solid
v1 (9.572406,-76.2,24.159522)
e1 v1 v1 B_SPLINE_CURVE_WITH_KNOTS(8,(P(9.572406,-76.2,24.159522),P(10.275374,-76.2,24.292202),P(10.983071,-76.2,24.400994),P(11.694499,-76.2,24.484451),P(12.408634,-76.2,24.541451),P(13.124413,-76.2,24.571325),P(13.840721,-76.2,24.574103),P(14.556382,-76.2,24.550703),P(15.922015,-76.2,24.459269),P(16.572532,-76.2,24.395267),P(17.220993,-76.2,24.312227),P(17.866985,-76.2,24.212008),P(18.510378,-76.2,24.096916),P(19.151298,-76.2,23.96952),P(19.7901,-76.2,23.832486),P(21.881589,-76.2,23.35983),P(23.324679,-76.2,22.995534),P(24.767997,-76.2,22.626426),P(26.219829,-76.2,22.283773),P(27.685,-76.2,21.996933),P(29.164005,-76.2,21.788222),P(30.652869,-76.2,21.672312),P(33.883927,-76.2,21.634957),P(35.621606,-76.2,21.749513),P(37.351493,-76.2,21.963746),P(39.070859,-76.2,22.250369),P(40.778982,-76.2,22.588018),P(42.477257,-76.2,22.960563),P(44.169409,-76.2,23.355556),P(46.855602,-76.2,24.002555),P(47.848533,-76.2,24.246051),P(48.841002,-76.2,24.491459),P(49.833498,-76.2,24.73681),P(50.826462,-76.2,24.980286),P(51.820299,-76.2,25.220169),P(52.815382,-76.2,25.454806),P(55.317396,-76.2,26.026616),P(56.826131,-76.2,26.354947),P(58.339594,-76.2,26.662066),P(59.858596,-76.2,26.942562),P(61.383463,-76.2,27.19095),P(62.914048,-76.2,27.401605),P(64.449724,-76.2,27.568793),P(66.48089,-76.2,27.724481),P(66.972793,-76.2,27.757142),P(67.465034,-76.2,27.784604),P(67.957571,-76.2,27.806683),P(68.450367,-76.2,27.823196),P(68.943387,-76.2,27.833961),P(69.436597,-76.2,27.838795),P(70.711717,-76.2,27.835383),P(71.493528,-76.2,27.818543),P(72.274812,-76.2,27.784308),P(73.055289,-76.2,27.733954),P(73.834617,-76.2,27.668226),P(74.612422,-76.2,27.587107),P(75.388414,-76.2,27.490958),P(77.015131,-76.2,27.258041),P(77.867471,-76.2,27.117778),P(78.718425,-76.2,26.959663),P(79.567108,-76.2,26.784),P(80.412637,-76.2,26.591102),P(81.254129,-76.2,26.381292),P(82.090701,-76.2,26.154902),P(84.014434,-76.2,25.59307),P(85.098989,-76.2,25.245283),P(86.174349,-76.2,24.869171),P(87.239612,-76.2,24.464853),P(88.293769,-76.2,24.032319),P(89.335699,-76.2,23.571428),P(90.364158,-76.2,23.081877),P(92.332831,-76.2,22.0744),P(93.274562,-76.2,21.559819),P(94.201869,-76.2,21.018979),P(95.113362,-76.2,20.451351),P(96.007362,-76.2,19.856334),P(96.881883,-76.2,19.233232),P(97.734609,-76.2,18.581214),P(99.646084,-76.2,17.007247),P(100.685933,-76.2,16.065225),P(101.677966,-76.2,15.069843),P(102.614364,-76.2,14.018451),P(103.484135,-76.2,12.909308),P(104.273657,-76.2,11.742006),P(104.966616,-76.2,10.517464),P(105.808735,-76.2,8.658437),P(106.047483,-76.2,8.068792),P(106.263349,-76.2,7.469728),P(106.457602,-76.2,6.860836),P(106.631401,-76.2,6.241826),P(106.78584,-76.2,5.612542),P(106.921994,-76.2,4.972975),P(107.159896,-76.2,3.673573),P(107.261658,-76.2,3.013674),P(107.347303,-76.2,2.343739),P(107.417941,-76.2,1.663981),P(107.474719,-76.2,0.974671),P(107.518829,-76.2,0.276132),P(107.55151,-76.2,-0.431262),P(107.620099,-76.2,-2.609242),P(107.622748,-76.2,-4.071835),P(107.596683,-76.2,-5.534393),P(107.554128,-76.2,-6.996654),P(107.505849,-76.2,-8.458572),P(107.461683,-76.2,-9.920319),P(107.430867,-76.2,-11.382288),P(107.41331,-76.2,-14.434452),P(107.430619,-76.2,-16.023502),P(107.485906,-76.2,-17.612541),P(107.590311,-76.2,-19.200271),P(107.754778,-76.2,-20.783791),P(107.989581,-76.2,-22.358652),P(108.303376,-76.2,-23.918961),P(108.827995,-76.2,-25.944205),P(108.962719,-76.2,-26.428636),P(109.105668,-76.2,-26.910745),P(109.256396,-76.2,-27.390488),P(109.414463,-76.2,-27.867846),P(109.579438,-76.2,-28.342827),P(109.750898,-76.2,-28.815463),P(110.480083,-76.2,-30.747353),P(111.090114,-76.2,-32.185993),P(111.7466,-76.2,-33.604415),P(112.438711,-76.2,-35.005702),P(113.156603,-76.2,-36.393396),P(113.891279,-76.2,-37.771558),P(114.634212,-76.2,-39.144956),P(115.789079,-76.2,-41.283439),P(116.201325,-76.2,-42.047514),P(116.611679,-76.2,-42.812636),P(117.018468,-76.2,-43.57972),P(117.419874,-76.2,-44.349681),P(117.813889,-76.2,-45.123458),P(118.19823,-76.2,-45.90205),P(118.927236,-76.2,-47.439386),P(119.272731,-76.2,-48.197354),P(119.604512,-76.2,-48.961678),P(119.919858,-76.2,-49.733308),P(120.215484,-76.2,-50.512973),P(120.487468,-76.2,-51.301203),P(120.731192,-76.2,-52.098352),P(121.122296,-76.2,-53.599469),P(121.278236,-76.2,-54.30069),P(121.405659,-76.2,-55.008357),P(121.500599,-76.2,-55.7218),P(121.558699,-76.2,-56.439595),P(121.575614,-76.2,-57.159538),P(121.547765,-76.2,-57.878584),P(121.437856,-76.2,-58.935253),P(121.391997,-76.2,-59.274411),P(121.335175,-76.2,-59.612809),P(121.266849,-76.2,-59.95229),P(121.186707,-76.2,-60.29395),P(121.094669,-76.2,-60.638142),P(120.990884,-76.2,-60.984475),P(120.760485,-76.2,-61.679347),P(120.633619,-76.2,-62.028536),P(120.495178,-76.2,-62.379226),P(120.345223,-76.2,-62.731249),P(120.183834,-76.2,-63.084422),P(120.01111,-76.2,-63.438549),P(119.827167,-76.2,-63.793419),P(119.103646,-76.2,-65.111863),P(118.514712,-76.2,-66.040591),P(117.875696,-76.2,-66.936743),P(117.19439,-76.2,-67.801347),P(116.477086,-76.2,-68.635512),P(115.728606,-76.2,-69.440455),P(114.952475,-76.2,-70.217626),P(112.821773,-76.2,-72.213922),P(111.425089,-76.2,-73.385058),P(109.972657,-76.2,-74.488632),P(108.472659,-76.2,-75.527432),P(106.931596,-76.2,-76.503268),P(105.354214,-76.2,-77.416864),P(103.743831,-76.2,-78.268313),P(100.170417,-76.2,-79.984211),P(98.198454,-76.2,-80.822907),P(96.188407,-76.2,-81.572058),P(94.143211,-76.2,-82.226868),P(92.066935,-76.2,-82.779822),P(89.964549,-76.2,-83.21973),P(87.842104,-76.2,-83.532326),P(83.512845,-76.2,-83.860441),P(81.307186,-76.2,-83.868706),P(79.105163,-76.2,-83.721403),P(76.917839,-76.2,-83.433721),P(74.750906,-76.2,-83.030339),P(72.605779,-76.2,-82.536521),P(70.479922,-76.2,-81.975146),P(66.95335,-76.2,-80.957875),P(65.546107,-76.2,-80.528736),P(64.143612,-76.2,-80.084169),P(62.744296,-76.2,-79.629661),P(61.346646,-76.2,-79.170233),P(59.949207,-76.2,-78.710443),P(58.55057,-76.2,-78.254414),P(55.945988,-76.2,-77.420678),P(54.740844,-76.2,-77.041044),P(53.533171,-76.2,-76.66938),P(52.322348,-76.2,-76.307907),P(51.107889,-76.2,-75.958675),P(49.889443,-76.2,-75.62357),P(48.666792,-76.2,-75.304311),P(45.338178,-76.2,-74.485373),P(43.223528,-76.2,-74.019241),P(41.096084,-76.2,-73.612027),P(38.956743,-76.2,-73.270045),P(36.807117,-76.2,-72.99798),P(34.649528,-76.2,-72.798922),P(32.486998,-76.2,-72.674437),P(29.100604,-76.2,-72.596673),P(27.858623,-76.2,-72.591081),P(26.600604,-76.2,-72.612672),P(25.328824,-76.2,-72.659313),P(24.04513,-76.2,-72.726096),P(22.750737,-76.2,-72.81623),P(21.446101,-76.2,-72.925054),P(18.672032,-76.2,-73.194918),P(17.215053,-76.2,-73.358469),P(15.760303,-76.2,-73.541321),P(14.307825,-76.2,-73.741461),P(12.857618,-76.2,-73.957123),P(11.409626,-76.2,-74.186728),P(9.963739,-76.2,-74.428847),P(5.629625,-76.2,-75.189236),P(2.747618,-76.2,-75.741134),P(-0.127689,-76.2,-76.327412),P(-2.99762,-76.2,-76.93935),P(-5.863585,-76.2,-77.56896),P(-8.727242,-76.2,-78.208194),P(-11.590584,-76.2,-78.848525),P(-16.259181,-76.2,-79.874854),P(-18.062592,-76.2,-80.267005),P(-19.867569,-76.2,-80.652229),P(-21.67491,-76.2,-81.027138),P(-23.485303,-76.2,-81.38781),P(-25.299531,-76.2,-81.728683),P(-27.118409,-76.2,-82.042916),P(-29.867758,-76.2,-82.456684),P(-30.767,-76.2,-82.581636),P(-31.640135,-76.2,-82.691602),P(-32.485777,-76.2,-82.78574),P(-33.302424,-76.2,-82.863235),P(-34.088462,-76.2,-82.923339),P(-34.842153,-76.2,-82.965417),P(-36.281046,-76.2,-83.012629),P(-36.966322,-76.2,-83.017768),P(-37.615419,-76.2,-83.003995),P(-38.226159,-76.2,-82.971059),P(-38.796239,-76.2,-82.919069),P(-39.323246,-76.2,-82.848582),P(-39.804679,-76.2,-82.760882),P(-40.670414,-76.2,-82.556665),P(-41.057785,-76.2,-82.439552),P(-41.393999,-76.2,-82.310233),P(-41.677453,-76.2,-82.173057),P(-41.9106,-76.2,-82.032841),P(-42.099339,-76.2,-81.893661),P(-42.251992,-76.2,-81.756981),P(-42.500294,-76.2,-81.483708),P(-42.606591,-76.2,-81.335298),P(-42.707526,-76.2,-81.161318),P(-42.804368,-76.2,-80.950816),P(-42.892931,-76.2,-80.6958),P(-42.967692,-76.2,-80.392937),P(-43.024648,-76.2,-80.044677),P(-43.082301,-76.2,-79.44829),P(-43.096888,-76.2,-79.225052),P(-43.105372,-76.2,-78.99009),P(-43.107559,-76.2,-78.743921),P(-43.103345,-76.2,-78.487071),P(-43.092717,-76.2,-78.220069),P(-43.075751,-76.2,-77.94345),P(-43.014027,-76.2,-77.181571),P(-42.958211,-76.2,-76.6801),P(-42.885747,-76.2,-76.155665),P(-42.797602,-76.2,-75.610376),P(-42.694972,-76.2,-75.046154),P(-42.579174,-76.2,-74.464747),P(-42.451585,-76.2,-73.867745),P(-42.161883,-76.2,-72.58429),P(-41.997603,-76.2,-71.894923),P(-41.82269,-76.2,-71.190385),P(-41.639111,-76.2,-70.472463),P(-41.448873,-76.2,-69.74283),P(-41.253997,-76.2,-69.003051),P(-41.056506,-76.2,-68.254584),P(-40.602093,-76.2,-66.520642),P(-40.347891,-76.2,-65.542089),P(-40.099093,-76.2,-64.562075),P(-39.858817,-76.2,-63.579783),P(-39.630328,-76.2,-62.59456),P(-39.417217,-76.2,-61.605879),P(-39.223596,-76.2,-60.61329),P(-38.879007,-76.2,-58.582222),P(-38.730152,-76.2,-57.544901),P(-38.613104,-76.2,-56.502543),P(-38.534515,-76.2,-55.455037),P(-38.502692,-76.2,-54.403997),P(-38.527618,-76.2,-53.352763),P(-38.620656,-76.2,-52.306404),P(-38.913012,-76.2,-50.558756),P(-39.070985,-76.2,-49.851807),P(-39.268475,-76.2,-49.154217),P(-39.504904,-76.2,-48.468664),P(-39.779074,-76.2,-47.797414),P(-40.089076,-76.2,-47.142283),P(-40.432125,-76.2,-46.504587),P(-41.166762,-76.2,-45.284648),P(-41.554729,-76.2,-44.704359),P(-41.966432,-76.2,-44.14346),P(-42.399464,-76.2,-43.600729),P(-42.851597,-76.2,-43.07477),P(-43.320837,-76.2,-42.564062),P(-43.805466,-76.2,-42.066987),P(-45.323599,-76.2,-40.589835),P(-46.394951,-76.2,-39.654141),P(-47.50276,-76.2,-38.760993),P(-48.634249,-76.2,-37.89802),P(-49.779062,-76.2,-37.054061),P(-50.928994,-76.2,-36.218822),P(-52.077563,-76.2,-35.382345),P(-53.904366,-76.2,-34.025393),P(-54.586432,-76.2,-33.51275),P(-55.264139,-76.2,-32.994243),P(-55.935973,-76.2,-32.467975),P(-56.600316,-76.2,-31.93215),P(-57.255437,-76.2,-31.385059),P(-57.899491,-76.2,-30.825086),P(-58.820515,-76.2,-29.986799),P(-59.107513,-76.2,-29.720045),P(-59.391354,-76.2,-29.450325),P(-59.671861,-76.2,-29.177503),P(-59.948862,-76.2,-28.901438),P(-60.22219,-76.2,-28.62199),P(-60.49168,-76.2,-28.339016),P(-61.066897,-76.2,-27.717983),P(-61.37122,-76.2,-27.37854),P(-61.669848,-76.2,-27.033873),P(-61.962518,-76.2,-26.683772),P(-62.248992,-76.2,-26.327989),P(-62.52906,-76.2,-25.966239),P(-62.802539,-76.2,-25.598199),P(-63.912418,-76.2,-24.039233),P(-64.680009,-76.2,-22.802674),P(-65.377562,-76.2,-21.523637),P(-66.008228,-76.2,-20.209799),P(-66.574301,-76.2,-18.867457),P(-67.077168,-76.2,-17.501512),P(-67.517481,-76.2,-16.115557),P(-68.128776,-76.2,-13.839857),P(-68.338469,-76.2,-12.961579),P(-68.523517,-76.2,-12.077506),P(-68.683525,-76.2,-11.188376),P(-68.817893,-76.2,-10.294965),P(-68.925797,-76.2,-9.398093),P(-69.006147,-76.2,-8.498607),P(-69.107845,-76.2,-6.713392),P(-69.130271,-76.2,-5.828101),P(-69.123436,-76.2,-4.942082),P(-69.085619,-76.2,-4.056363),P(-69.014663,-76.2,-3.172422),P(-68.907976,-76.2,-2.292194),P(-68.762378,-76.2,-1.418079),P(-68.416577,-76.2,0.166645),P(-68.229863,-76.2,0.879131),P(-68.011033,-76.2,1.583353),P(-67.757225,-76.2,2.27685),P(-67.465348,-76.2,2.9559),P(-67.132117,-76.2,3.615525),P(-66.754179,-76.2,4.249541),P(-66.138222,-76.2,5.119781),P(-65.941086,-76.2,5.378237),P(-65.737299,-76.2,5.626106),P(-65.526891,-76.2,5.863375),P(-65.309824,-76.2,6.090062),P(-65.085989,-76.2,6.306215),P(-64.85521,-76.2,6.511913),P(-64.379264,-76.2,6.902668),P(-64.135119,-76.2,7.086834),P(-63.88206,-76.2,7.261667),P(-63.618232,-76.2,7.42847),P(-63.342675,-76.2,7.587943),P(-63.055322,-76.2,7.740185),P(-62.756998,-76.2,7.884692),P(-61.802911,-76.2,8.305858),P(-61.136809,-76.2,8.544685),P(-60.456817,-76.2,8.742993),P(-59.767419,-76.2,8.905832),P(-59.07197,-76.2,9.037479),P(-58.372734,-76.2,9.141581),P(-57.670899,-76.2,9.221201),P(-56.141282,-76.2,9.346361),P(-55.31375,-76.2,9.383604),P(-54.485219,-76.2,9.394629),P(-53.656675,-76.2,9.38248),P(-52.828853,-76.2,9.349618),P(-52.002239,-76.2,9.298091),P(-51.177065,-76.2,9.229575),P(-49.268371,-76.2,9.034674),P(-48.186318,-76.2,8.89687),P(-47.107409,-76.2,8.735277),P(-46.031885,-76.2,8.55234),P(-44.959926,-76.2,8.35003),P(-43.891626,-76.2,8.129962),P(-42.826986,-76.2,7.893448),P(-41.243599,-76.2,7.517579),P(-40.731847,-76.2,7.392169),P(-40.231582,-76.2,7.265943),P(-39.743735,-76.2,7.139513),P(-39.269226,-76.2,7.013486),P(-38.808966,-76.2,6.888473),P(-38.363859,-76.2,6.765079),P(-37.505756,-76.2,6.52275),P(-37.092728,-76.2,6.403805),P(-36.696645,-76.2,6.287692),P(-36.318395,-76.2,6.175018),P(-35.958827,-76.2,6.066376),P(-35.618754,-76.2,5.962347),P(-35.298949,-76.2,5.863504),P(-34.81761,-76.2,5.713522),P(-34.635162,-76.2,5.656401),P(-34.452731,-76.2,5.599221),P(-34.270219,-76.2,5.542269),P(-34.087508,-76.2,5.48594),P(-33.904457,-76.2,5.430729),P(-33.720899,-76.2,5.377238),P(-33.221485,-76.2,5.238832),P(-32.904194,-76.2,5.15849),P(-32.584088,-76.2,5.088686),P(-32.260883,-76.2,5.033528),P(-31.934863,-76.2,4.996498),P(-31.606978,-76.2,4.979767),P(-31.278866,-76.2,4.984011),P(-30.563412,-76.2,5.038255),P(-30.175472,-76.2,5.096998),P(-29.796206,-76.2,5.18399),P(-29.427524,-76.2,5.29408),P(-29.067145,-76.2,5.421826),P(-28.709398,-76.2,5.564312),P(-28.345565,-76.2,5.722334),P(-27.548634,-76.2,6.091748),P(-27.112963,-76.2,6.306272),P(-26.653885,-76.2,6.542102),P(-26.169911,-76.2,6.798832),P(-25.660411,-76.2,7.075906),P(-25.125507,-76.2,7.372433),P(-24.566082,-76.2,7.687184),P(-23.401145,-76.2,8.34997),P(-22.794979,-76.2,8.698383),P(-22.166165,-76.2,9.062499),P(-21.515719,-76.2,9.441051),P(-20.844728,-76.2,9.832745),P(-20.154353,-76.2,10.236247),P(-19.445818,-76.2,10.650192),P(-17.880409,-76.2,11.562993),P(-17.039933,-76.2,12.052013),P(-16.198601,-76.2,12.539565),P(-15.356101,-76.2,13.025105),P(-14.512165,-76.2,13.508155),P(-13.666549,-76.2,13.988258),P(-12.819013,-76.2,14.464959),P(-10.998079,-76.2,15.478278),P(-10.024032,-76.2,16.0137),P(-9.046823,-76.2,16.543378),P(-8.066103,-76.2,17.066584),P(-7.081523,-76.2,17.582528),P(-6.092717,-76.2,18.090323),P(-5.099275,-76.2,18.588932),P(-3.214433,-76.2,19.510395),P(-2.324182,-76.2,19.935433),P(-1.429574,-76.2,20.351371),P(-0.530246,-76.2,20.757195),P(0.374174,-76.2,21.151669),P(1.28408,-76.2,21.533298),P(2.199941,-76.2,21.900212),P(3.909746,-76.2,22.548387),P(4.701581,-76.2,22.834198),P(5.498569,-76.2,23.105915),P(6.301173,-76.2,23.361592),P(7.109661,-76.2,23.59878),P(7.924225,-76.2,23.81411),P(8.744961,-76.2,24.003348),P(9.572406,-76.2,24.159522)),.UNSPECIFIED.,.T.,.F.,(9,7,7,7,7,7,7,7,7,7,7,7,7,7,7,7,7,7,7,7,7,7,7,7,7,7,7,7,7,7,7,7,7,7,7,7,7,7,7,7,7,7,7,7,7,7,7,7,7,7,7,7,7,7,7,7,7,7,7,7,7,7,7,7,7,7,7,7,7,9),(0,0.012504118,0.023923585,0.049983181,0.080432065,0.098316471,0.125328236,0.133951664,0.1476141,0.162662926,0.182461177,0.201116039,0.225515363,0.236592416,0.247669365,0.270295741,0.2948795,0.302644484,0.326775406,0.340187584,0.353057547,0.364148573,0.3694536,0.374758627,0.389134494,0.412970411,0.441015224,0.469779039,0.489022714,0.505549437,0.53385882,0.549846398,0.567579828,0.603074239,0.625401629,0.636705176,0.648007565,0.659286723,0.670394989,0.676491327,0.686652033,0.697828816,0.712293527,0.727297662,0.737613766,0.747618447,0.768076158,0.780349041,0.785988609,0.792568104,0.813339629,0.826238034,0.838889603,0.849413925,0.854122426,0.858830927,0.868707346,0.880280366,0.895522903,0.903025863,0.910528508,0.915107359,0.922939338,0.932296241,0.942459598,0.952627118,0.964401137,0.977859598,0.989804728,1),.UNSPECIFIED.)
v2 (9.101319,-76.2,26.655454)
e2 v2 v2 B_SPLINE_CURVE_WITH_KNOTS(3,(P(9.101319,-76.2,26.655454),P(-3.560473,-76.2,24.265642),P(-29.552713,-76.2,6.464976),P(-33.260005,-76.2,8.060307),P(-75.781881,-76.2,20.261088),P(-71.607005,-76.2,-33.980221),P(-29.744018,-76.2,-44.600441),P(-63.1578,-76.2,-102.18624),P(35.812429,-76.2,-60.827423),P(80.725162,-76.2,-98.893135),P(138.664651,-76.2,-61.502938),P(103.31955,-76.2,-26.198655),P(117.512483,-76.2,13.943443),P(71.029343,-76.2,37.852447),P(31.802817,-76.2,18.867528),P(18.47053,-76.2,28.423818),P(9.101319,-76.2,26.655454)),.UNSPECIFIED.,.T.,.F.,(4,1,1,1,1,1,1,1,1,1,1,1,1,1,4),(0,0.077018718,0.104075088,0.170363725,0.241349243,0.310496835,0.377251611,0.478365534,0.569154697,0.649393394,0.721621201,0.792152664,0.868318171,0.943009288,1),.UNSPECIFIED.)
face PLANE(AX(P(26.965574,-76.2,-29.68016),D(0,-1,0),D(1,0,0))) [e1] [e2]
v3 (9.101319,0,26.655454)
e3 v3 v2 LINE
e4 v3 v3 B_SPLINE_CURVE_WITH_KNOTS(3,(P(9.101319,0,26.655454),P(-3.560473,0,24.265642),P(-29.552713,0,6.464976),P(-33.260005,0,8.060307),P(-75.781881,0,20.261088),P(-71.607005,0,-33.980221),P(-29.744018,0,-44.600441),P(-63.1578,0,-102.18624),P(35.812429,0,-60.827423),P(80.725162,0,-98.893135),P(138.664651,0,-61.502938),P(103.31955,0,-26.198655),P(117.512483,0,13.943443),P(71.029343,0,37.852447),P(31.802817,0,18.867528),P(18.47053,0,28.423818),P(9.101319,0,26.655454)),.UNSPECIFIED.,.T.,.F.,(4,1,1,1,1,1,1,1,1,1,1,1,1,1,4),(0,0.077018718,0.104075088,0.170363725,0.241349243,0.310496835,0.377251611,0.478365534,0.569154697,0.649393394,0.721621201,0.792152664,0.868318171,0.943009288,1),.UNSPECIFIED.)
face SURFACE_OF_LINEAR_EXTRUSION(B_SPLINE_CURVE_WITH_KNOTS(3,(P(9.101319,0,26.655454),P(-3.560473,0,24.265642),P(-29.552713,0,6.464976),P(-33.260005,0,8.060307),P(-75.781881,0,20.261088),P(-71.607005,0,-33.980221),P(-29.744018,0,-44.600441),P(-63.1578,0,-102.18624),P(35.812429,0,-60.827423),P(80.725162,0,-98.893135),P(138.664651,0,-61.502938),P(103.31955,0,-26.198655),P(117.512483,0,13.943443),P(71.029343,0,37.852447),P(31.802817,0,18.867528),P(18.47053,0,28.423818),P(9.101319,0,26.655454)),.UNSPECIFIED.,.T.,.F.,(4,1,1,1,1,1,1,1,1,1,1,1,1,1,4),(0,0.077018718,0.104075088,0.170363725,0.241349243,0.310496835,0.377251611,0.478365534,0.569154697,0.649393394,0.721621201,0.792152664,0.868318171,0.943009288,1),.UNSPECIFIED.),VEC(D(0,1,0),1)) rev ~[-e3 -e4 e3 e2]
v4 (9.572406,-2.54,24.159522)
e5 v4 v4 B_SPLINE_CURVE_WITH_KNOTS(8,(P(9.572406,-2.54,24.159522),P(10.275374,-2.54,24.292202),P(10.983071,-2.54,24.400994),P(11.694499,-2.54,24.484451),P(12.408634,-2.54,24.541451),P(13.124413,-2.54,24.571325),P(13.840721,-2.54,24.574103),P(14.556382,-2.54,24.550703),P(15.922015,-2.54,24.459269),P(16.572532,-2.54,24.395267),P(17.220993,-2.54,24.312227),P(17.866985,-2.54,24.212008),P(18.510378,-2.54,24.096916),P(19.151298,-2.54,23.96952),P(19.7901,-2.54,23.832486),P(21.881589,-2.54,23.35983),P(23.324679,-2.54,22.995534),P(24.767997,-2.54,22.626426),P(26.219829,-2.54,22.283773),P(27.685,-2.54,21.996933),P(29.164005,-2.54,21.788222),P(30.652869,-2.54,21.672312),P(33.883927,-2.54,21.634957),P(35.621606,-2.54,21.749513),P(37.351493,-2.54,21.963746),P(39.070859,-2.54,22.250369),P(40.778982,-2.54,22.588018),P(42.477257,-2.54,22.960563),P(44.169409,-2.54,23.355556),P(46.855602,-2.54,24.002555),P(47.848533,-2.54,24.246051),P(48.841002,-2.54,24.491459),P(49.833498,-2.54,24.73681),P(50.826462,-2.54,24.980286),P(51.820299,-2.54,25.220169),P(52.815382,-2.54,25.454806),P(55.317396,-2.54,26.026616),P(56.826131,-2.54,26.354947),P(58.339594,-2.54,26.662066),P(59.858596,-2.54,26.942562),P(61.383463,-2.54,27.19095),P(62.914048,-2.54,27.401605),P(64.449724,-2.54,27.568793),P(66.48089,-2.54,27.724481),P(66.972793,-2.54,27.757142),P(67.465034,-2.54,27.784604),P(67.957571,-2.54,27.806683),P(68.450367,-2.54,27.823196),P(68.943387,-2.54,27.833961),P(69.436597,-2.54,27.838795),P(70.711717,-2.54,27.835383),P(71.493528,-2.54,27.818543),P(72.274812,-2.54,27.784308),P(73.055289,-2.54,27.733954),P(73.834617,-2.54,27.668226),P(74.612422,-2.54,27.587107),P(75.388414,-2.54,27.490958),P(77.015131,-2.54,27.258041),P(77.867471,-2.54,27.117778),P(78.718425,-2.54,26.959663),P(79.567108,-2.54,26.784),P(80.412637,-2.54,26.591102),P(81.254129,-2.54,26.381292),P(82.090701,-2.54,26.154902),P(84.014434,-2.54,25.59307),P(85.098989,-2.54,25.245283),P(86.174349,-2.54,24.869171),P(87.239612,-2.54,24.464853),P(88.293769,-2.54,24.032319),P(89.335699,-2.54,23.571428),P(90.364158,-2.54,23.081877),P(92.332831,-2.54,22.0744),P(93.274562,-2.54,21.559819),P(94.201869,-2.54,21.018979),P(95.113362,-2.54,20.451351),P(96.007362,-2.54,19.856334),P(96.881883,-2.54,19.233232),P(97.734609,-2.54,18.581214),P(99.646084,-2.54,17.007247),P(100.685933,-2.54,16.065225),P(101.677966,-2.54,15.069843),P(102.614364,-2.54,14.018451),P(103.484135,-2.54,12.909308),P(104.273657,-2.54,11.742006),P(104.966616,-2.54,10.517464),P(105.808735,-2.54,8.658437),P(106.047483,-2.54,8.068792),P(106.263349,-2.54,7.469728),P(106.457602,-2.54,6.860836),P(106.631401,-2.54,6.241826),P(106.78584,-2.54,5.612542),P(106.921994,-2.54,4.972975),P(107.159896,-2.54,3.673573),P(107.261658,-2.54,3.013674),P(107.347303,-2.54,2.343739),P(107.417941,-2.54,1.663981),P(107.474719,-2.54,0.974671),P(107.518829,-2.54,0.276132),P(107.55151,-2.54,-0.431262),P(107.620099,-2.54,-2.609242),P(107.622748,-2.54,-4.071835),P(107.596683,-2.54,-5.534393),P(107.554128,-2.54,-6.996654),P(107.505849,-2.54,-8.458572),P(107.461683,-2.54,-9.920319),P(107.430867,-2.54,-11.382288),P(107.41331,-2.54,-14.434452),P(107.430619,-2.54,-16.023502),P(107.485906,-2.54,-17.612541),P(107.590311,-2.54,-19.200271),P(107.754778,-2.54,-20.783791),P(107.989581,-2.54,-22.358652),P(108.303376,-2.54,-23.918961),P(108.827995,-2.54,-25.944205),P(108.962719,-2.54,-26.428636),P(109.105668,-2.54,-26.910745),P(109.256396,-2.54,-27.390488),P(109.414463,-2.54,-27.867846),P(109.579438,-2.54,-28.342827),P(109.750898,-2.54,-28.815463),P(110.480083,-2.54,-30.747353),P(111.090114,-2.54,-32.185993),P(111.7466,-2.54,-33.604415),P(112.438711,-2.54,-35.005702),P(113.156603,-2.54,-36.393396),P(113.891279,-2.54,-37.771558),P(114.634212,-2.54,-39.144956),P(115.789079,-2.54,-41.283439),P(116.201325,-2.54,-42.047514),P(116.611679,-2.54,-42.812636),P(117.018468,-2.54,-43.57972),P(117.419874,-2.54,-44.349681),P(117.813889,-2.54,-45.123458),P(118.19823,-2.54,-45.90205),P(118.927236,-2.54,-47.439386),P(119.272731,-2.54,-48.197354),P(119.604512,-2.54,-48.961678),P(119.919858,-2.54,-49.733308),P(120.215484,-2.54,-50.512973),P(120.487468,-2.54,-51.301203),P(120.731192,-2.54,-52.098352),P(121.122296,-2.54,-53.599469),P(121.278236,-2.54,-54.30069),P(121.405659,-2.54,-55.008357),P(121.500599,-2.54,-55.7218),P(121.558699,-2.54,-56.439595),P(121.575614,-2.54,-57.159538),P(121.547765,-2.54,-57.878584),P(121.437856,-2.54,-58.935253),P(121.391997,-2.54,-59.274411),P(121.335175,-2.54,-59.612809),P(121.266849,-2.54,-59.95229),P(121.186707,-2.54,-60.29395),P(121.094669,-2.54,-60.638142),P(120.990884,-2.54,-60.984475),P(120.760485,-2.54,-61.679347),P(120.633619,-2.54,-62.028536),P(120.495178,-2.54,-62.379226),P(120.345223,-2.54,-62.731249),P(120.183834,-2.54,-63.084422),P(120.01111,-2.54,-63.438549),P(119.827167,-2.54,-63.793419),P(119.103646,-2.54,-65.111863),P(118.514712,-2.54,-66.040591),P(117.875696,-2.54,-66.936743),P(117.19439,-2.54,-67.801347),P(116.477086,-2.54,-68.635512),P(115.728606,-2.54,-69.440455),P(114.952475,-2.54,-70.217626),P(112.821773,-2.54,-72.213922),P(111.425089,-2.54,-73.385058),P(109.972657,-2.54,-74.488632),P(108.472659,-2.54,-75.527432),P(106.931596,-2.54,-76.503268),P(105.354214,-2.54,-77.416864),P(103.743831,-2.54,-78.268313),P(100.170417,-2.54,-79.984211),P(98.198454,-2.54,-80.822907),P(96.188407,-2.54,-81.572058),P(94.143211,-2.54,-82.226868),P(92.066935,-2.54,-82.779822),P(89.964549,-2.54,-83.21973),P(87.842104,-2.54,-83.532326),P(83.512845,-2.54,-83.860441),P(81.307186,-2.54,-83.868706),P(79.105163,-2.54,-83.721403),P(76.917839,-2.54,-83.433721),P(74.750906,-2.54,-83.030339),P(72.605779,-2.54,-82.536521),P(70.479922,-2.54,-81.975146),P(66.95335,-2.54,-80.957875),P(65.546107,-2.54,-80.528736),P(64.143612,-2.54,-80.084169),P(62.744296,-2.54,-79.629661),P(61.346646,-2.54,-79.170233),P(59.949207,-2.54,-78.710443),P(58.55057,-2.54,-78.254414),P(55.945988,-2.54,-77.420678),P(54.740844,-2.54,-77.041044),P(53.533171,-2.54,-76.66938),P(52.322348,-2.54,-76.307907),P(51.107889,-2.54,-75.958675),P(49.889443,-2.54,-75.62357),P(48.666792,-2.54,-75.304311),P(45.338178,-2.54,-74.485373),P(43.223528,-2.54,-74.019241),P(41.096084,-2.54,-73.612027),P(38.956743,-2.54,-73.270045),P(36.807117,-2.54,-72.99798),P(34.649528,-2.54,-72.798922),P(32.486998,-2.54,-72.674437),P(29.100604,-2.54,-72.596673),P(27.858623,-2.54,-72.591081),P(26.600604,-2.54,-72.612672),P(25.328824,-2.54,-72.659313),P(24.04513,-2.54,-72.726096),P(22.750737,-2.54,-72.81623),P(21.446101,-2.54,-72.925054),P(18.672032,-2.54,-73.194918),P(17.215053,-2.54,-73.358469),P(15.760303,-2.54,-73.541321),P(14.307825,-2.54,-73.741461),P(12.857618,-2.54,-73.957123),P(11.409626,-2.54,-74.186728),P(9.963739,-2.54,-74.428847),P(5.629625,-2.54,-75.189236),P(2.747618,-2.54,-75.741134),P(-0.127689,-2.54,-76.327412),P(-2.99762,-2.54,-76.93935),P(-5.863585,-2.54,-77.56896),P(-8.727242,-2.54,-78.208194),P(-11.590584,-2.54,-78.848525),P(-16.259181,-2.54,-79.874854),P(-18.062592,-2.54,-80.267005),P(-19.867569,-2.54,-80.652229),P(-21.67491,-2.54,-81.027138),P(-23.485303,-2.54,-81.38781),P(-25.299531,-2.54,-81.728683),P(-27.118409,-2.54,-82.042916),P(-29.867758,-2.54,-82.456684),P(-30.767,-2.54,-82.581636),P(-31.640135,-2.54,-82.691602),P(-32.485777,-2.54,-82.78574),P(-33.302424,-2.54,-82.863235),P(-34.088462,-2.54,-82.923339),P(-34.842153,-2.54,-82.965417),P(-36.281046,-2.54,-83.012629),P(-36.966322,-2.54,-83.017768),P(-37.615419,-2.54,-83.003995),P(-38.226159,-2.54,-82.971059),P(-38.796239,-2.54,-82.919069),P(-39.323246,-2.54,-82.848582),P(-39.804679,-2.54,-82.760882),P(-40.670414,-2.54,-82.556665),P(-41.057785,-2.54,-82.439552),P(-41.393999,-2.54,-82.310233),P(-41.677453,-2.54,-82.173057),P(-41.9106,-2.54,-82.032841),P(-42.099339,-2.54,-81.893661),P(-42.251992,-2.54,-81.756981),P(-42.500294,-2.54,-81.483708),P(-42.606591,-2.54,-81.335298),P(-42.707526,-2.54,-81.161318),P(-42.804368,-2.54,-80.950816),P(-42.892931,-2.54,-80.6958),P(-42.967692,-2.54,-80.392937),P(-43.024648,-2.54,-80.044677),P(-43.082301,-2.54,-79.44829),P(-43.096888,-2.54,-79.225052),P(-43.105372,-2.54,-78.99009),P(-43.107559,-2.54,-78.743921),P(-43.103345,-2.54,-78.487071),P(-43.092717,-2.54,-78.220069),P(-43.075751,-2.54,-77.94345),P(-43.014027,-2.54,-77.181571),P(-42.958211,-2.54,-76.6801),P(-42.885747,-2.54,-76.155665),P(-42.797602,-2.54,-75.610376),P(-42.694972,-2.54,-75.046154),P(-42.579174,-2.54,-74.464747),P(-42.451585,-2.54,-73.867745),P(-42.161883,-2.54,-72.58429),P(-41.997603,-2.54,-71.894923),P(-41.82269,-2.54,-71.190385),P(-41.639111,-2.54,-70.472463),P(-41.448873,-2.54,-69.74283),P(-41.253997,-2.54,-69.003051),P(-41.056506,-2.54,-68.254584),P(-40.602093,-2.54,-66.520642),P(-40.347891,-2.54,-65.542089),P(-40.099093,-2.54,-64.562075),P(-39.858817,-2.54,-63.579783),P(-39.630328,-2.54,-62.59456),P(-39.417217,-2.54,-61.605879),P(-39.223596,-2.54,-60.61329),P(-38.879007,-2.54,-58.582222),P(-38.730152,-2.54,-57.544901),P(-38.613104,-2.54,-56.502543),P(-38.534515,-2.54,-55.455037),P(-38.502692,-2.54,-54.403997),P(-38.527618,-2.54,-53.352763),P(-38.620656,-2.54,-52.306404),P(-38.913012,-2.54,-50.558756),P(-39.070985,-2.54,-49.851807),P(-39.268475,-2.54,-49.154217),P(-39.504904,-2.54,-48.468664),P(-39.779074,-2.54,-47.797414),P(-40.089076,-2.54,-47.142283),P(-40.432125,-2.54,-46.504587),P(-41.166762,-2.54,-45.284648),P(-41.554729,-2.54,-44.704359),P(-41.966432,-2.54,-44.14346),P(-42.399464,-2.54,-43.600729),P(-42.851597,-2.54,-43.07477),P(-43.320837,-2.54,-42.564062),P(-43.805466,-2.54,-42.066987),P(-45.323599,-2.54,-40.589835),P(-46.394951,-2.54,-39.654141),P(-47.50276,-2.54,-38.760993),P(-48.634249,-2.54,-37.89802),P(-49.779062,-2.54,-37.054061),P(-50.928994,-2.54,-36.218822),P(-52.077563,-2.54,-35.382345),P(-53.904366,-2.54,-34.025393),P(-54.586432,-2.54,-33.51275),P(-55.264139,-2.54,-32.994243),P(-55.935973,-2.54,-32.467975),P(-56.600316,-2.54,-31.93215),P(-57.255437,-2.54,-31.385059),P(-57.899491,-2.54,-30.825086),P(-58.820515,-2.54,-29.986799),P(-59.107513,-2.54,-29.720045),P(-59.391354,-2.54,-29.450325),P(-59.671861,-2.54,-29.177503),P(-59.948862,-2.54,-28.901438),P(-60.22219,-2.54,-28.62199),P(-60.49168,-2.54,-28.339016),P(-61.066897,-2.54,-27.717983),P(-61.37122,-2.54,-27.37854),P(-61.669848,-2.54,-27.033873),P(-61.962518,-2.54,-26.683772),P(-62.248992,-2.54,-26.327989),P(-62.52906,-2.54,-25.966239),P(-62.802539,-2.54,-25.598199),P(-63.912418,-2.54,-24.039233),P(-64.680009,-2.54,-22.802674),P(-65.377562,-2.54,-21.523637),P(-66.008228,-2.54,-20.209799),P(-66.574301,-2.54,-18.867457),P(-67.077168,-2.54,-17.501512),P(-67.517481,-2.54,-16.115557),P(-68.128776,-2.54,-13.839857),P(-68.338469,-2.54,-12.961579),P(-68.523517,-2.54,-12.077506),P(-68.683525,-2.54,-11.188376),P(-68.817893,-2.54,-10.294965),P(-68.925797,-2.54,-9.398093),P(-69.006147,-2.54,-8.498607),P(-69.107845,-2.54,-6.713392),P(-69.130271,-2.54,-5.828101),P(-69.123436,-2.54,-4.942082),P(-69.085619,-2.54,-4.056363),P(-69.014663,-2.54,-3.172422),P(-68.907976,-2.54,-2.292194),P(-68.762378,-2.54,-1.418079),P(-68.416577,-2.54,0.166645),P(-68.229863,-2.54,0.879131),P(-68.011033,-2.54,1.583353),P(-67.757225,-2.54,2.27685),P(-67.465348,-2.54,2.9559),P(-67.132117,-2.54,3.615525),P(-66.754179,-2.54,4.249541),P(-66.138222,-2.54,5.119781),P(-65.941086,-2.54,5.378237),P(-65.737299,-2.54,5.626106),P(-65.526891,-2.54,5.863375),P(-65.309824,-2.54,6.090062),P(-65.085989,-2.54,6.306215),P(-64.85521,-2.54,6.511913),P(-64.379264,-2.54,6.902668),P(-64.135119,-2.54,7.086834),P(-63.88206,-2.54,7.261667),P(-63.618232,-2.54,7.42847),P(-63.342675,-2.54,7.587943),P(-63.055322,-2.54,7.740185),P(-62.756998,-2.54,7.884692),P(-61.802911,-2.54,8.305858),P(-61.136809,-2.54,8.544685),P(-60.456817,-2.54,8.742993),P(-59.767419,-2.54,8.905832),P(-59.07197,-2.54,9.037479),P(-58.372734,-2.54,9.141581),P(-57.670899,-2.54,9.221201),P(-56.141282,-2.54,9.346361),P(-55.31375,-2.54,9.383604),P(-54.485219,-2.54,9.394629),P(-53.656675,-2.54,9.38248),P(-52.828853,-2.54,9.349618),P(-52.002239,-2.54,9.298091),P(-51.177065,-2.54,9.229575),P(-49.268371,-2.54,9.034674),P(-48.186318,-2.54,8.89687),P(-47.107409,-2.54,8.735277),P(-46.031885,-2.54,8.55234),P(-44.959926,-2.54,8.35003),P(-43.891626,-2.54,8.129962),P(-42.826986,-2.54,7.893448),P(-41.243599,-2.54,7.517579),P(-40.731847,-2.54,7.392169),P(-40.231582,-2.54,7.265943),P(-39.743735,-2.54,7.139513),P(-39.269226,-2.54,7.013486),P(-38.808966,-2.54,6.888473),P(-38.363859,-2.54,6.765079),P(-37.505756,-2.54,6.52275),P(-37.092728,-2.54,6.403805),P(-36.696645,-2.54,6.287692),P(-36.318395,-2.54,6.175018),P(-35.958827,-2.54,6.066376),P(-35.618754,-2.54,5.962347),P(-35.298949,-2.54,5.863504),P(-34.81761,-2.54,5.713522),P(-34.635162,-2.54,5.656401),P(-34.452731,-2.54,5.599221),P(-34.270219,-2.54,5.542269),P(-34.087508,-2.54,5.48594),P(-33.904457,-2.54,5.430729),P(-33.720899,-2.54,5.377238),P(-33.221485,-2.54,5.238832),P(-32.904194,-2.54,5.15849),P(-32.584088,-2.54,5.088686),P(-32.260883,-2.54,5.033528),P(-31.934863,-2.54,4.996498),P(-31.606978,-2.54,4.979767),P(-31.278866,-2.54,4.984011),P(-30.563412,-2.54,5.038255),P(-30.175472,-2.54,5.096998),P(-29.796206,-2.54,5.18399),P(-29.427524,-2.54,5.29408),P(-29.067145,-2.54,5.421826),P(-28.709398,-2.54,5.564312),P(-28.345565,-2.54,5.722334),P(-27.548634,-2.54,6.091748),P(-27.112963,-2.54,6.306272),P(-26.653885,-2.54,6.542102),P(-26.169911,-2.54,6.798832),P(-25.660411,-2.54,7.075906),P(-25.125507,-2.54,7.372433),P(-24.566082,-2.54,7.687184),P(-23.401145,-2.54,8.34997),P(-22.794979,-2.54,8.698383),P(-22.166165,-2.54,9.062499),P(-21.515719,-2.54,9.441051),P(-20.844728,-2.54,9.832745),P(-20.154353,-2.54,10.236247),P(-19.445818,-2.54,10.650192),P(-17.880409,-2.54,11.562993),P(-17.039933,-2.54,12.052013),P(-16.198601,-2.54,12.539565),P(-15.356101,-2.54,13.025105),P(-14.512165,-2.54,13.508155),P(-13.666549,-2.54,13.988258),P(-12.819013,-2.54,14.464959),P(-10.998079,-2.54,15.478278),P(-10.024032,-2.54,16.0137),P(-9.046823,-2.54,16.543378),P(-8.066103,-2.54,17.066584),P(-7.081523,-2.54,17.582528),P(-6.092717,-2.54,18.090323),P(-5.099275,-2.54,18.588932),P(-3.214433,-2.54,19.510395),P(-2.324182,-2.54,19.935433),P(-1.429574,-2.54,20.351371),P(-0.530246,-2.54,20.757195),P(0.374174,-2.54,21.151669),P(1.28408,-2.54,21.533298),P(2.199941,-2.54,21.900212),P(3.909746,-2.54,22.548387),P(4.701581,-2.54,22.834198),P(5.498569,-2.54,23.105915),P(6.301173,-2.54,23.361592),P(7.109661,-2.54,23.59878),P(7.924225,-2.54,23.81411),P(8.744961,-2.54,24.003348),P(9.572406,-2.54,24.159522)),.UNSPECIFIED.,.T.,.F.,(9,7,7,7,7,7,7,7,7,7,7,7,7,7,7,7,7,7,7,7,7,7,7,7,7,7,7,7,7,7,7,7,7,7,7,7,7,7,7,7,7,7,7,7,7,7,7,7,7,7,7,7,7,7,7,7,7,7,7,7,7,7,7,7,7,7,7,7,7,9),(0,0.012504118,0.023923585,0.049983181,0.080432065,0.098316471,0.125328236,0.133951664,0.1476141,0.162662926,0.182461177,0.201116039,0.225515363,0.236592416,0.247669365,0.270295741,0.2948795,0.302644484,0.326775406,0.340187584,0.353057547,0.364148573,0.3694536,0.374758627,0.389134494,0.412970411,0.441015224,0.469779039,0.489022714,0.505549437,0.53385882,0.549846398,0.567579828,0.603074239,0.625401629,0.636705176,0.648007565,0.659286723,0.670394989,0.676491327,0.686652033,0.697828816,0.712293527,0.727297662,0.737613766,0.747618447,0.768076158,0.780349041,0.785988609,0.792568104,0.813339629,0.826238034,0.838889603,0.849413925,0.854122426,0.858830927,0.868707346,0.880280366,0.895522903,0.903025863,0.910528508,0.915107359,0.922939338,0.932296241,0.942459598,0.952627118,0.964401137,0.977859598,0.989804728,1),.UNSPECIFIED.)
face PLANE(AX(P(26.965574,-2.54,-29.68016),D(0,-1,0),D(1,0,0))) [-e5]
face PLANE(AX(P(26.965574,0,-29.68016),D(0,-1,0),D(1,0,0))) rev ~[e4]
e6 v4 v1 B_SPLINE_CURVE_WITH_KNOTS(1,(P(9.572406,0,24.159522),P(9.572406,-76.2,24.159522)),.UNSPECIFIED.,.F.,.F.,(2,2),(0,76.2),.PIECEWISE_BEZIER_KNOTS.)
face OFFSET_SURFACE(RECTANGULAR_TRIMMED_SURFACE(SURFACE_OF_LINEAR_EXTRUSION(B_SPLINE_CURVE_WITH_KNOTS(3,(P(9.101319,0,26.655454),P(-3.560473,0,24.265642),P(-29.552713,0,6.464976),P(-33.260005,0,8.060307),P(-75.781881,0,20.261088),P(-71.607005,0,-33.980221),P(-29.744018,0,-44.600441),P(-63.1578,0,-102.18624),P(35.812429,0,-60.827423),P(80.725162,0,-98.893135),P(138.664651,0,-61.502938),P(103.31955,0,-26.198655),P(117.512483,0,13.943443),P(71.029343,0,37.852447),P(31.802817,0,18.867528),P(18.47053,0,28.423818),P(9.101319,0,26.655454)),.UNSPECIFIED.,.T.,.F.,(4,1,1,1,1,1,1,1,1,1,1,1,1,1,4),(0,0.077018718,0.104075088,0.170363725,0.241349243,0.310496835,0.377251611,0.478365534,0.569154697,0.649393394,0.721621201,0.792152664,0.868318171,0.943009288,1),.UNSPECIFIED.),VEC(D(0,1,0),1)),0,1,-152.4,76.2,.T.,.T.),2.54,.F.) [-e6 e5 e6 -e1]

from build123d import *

# Parameters (mm, degrees)
F1_DEPTH = 76.2
F2_T     = -2.54


with BuildPart() as f1:
    # F0 (on Front) → F1 (new body)
    with BuildSketch(Plane.XZ):
        with BuildLine():
            add(Edge.make_bspline(
                [(9.1013191268, 26.6554541886), (-3.5604733522, 24.2656416725), (-29.5527126018, 6.4649763356), (-33.2600050124, 8.0603069166), (-75.7818813762, 20.2610884917), (-71.6070048789, -33.9802214325), (-29.7440182235, -44.6004413623), (-63.157800213, -102.1862404114), (35.8124288558, -60.8274225406), (80.7251622143, -98.8931345727), (138.6646509268, -61.5029381364), (103.319550087, -26.1986548923), (117.5124834761, 13.9434434816), (71.0293428056, 37.8524469816), (31.8028167736, 18.8675278323), (18.4705295597, 28.4238180593), (9.1013191268, 26.6554541886)],
                knots=[0, 0, 0, 0, 0.0770187179, 0.104075088, 0.1703637248, 0.2413492434, 0.3104968352, 0.3772516105, 0.478365534, 0.5691546972, 0.6493933935, 0.7216212009, 0.7921526644, 0.8683181705, 0.9430092875, 1, 1, 1, 1], degree=3))
        make_face()
    extrude(amount=F1_DEPTH)

    # F2
    f2_openings = [f1.faces().sort_by_distance(p)[0] for p in [
        (30.926697, -76.2, -28.679433),
    ]]
    offset(amount=F2_T, openings=f2_openings)


solid = f1.part
